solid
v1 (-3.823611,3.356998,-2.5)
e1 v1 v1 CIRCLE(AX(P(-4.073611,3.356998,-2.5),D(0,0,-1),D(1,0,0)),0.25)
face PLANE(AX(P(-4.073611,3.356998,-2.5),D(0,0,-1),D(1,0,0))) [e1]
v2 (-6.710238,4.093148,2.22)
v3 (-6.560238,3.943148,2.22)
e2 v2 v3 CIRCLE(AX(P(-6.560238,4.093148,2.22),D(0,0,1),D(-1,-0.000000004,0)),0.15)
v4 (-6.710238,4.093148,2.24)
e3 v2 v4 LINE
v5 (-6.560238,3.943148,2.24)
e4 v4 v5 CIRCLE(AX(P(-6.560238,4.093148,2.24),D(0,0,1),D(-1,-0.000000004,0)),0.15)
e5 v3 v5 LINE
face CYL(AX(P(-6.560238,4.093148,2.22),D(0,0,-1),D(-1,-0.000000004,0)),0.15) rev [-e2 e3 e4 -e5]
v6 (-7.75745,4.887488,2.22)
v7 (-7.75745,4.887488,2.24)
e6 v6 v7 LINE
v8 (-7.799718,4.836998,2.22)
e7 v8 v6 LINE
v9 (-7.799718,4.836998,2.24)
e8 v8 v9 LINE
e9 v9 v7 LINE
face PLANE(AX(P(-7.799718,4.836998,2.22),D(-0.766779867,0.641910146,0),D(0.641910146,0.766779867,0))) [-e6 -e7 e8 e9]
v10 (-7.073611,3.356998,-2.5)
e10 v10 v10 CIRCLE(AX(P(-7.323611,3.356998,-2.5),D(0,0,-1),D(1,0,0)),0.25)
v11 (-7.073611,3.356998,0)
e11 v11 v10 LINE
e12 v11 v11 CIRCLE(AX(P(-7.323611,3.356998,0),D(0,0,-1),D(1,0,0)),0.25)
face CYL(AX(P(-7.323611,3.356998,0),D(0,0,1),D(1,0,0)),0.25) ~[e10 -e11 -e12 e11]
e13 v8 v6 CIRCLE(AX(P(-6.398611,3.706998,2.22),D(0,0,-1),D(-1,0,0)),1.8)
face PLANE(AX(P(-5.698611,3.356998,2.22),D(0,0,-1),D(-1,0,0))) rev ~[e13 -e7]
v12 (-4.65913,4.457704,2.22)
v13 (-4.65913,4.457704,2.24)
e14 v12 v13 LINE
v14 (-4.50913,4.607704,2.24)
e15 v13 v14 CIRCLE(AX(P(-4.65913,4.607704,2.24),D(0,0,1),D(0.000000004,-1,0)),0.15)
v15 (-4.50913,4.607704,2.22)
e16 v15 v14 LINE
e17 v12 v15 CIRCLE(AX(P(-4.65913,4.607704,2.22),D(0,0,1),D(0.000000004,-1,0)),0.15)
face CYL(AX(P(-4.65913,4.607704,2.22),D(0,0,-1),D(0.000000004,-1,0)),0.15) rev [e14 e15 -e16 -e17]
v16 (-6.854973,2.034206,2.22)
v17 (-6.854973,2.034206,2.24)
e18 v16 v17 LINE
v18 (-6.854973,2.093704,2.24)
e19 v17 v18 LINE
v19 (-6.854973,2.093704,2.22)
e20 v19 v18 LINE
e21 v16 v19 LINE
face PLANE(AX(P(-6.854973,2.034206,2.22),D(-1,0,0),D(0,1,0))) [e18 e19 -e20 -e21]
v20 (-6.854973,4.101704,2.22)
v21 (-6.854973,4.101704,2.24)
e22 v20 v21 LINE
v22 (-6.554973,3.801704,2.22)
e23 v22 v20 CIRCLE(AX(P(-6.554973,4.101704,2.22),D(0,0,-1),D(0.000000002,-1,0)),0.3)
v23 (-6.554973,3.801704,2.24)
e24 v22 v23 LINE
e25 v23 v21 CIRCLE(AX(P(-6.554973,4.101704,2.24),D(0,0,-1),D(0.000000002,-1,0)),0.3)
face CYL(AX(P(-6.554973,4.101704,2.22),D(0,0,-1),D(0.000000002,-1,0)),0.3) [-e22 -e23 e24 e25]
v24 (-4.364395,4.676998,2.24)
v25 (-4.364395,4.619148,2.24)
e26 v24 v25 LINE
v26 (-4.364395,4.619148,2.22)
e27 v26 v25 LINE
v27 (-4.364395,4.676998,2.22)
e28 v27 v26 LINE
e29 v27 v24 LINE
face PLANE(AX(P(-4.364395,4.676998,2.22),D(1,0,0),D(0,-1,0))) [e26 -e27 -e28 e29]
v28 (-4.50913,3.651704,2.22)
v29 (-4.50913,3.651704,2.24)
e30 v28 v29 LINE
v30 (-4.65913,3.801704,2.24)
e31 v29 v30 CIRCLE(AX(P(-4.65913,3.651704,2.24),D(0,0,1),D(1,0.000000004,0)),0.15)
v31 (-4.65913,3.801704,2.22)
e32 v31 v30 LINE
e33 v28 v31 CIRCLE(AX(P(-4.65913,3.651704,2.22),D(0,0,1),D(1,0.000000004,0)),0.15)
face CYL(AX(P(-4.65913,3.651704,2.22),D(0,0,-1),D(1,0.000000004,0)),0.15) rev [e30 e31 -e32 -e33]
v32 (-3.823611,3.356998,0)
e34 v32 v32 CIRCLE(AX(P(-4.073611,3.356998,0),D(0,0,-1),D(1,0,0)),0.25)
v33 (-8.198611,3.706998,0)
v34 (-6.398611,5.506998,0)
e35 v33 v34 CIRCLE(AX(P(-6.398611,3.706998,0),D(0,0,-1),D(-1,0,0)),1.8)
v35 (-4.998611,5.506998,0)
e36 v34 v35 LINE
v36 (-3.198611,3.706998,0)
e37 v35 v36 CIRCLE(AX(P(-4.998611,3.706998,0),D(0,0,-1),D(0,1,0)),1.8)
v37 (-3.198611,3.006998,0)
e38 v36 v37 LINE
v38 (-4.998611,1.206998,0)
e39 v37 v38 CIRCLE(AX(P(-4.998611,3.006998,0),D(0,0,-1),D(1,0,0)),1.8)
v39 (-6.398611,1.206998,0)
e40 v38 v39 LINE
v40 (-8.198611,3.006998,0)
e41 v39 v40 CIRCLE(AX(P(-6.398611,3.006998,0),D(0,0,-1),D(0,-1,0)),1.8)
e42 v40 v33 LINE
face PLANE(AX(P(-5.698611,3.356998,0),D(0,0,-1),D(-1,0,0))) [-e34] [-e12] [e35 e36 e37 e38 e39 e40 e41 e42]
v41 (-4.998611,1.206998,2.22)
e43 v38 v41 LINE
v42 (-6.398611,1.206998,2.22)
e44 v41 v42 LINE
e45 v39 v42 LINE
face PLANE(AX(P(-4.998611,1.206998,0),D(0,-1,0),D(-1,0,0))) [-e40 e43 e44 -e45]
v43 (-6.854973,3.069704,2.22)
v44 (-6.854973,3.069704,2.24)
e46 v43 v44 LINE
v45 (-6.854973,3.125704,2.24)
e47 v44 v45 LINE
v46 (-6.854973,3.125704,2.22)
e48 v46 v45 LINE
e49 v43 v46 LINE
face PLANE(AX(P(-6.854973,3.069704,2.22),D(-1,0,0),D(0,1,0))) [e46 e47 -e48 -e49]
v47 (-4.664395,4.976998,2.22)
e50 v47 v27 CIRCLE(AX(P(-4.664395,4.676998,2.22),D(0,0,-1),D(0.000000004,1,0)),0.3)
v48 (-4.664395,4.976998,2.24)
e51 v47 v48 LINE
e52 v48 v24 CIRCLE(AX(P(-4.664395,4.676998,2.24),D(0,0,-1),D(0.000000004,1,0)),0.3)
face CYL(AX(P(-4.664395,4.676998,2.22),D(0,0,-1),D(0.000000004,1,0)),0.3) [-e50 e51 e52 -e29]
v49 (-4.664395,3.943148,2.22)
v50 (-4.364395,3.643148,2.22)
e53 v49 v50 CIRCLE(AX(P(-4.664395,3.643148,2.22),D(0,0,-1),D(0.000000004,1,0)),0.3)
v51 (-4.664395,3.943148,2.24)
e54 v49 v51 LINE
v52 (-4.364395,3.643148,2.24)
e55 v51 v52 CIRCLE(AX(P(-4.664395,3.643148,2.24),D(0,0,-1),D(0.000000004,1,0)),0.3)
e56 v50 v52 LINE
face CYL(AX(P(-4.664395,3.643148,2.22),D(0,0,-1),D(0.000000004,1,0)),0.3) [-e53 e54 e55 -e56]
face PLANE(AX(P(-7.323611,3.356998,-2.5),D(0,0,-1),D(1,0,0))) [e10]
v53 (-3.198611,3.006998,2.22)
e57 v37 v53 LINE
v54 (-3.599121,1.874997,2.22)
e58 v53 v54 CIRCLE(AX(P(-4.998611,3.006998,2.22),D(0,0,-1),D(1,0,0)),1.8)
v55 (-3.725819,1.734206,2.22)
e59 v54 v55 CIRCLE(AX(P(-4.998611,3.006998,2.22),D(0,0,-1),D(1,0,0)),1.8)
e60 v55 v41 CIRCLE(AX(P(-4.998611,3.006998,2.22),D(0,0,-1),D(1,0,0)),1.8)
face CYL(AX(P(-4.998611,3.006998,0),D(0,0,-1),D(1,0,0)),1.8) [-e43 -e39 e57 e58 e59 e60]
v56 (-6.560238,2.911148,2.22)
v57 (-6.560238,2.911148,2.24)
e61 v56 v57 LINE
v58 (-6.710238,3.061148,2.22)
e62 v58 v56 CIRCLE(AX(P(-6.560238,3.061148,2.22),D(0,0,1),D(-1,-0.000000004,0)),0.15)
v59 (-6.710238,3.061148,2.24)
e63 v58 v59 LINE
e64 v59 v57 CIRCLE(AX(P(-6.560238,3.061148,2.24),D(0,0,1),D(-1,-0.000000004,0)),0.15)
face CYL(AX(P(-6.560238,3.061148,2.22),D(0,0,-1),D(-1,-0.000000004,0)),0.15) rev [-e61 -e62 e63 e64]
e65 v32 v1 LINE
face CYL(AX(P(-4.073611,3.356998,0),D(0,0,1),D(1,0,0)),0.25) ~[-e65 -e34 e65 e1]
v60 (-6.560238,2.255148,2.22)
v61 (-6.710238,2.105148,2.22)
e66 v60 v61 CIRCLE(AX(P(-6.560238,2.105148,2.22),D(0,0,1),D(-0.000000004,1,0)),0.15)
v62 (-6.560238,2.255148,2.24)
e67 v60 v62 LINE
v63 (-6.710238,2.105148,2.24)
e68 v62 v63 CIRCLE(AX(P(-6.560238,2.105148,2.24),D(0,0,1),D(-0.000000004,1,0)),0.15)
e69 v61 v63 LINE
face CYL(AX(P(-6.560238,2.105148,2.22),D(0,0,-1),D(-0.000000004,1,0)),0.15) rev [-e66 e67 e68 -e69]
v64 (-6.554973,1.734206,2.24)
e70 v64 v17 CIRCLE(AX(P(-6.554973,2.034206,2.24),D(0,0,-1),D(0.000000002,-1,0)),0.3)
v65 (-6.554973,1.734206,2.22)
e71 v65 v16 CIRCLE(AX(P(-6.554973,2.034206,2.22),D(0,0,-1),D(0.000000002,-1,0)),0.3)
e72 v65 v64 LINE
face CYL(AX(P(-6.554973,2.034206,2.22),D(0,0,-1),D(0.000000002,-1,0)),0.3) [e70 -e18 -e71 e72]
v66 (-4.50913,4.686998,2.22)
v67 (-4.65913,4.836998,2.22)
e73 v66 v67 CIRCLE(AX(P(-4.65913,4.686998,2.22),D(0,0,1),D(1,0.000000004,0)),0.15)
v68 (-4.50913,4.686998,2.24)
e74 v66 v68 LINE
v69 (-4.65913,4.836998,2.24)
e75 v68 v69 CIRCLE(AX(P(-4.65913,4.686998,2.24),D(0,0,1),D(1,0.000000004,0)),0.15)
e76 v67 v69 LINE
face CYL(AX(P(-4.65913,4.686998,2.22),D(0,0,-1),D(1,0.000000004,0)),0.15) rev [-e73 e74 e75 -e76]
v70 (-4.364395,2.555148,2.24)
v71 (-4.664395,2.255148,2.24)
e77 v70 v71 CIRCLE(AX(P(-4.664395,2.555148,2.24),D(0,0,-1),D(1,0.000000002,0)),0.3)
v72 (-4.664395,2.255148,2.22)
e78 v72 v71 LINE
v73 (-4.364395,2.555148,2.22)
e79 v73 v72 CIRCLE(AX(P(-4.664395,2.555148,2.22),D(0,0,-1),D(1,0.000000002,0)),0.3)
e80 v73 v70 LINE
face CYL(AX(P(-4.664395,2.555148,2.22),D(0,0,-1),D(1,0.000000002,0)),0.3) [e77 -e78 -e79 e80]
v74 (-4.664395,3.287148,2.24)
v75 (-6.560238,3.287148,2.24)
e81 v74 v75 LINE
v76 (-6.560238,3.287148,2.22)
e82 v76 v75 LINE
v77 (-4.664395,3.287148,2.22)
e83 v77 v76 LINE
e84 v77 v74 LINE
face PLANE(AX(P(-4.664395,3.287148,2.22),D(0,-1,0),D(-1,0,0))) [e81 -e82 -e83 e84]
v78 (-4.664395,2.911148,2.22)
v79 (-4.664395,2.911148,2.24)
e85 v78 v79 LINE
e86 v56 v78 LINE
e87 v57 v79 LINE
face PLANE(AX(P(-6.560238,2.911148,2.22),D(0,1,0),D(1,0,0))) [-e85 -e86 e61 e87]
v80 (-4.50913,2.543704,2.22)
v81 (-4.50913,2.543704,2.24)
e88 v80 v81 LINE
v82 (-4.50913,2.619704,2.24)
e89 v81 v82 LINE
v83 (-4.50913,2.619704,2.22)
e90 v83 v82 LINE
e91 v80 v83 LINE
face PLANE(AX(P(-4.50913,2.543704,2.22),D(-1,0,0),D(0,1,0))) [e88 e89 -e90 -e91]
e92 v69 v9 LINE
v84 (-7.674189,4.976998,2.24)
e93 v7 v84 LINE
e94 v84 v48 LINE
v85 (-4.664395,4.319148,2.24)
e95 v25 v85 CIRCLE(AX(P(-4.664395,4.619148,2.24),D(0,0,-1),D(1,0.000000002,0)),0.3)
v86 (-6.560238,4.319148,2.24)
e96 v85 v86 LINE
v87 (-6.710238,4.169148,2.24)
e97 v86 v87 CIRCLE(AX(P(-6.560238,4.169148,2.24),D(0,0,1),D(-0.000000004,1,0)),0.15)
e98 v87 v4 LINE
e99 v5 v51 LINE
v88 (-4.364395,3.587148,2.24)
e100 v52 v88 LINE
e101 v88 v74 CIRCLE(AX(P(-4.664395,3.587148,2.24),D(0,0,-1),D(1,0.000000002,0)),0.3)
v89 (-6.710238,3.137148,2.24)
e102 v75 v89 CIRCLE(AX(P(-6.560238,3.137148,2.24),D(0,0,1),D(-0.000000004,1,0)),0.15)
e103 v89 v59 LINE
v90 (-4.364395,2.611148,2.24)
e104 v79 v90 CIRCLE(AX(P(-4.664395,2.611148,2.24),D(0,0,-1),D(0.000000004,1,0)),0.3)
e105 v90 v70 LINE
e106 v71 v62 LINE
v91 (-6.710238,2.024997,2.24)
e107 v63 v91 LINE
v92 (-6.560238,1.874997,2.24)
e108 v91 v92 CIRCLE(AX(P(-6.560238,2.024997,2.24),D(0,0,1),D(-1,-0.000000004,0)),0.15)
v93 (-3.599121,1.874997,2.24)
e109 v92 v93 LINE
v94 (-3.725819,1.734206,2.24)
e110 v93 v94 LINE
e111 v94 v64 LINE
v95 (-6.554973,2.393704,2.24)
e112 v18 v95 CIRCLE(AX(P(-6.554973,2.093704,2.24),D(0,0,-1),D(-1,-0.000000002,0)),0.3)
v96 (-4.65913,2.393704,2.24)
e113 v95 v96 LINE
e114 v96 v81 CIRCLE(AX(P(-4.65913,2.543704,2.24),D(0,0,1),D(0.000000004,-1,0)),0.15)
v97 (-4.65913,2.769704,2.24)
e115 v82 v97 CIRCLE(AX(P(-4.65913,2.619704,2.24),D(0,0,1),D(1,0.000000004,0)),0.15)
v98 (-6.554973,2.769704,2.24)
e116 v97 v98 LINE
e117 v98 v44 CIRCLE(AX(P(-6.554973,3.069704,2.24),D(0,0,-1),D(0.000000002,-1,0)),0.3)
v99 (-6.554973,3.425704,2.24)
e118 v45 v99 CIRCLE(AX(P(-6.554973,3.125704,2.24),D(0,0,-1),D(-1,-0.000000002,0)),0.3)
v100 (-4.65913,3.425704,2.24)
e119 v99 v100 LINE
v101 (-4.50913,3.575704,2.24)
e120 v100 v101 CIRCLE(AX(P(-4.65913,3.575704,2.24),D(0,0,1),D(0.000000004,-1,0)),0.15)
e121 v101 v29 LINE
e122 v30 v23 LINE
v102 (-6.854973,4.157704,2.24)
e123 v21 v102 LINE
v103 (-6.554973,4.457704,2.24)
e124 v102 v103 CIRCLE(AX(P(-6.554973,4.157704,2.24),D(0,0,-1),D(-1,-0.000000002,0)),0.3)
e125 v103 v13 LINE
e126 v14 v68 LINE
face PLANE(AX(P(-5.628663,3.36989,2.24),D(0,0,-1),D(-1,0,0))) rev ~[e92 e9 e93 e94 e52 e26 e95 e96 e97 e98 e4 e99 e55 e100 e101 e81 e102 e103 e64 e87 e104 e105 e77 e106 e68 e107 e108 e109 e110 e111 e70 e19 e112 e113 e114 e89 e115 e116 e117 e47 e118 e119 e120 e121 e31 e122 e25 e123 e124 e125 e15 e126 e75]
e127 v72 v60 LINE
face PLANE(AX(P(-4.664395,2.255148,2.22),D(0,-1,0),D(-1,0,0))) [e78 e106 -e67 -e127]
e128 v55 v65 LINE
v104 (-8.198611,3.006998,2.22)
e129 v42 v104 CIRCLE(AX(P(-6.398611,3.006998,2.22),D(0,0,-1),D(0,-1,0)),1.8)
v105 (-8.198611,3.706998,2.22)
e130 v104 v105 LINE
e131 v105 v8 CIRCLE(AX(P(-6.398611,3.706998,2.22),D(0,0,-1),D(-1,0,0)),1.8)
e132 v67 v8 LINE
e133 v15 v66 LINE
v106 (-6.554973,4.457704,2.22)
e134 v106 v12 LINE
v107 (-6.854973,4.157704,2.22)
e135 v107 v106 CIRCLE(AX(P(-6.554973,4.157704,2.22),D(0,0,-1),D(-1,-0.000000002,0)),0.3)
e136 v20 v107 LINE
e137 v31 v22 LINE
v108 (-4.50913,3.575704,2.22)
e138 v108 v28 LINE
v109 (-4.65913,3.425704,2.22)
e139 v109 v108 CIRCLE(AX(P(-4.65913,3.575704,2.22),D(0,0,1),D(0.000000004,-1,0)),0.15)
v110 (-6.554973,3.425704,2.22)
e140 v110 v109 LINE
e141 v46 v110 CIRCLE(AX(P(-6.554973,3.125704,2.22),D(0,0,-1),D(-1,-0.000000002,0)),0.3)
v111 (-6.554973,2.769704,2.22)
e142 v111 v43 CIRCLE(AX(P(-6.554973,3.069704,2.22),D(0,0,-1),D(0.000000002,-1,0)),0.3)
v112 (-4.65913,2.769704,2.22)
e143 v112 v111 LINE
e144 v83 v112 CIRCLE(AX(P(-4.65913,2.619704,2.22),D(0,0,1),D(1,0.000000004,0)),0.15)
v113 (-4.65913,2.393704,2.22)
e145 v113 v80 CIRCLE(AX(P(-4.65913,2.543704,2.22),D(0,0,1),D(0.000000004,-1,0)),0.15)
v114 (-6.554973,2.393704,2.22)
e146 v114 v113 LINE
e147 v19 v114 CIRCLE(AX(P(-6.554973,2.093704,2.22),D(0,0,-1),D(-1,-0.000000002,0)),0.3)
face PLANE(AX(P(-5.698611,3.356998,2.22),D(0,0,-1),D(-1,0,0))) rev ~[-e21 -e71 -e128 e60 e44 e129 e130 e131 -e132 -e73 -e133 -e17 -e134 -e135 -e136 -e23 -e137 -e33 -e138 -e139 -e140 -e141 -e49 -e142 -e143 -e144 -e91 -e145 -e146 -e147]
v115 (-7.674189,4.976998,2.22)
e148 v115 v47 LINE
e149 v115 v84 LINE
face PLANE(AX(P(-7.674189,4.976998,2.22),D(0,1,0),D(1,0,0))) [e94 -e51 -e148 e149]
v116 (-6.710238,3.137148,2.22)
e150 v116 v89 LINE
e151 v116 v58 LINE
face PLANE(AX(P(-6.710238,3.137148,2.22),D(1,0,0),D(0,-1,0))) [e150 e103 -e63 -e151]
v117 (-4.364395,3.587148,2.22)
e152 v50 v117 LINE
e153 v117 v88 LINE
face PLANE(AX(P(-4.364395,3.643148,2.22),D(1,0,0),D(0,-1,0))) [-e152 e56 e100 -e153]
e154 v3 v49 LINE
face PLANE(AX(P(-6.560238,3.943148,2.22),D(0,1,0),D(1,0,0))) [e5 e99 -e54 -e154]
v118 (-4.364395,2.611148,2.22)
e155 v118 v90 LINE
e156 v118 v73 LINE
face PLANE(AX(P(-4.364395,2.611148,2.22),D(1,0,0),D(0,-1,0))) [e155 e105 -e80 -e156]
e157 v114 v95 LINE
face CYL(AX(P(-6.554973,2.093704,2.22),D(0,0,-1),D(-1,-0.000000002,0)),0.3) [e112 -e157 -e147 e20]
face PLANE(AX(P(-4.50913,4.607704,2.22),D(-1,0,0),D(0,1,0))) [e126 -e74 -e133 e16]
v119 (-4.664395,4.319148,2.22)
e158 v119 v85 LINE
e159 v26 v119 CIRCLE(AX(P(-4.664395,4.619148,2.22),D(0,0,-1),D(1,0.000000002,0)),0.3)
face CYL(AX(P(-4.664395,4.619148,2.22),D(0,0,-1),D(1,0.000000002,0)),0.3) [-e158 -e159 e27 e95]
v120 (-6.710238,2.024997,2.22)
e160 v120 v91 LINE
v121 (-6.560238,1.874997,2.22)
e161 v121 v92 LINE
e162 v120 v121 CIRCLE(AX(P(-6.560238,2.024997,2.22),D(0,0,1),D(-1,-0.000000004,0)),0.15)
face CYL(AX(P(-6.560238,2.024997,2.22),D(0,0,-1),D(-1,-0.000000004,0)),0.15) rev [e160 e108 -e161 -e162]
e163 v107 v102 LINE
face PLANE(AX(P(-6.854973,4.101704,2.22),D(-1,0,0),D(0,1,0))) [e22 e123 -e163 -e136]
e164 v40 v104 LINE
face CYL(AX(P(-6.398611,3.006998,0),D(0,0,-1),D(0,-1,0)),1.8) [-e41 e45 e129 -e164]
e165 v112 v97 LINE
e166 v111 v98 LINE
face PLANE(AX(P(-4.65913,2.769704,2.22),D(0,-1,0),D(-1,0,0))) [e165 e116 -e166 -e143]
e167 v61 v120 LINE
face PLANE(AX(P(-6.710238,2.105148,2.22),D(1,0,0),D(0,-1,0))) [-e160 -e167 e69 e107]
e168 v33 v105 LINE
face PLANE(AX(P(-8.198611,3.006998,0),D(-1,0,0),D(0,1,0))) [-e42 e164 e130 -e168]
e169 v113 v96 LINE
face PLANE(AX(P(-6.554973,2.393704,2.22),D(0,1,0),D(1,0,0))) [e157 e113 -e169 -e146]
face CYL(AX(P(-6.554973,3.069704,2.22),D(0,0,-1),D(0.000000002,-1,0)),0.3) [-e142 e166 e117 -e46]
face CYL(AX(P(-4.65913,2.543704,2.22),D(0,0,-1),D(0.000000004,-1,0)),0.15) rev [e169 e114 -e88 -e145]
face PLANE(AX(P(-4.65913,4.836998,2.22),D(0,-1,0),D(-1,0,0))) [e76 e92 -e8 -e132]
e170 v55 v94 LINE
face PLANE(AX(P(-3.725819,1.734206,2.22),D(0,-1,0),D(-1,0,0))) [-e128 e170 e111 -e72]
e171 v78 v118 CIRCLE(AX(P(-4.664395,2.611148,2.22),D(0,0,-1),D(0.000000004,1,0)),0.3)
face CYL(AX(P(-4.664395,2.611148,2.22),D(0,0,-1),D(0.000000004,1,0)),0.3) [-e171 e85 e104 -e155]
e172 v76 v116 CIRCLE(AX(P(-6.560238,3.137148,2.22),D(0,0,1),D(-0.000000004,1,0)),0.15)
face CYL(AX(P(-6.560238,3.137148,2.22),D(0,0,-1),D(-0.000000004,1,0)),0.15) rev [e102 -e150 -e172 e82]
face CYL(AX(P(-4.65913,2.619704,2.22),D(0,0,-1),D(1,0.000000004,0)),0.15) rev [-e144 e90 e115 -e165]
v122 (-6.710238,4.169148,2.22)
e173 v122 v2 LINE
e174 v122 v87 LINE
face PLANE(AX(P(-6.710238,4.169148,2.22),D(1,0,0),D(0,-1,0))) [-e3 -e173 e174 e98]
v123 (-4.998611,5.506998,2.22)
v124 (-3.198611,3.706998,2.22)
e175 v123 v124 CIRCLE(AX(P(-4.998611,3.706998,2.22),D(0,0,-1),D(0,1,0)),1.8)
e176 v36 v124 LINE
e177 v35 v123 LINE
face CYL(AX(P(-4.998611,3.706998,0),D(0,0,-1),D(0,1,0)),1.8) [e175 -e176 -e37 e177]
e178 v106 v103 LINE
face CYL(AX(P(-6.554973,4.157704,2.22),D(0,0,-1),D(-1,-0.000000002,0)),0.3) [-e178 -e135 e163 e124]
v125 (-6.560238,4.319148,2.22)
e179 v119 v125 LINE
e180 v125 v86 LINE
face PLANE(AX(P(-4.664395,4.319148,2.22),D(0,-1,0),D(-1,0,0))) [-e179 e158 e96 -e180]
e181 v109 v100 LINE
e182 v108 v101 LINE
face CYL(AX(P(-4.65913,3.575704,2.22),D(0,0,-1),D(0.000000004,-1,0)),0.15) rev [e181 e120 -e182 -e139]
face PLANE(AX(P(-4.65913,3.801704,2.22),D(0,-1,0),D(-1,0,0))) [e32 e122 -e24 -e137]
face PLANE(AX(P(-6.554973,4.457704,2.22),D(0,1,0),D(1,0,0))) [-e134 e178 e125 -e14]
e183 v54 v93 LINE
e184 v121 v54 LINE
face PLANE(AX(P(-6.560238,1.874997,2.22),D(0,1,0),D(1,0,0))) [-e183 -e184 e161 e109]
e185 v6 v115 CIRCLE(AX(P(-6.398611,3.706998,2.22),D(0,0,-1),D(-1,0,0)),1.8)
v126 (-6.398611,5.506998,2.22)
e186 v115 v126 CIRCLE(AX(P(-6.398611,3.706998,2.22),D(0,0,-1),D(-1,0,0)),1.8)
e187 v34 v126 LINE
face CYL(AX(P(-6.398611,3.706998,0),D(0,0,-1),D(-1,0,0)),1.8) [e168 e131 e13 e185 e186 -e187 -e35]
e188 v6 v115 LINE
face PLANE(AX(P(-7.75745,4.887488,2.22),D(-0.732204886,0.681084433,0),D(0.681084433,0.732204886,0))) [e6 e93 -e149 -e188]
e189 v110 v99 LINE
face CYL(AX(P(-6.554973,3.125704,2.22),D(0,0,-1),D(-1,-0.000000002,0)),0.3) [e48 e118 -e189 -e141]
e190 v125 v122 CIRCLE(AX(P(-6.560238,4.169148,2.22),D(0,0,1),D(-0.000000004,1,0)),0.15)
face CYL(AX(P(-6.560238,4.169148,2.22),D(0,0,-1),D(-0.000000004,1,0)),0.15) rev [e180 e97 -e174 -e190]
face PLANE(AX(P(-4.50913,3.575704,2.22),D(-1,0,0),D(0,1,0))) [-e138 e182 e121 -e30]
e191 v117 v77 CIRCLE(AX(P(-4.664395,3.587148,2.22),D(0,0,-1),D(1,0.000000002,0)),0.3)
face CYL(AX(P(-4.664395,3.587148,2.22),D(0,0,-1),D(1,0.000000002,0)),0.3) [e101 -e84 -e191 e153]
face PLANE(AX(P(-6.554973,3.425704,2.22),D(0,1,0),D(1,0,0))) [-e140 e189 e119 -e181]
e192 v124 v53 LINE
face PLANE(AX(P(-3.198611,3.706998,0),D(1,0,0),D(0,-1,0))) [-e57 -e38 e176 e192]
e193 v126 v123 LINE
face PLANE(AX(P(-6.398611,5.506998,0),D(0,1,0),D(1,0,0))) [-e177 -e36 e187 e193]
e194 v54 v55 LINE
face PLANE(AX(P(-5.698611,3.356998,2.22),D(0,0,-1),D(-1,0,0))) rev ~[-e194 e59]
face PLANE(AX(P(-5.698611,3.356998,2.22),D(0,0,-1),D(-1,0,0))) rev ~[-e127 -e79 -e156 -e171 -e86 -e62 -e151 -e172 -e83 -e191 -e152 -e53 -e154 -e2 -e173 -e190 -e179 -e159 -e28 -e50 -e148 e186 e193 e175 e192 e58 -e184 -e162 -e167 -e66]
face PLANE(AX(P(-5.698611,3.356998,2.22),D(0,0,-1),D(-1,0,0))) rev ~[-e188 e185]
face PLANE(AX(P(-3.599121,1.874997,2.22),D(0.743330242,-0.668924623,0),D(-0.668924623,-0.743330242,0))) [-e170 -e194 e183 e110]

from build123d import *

# Parameters (mm, degrees)
EXTRUDE1_DEPTH = 2.22
EXTRUDE6_DEPTH = 0.02
SKETCH2_R      = 0.25
EXTRUDE7_DEPTH = 2.5


with BuildPart() as part:
    # Sketch1 → Extrude1 (new body)
    with BuildSketch(Plane.XY):
        with BuildLine():
            Line((-6.39861095, 5.506998303), (-4.99861095, 5.506998303))
            ThreePointArc((-4.99861095, 5.506998303), (-3.725818744, 4.979790509), (-3.19861095, 3.706998303))
            Line((-3.19861095, 3.706998303), (-3.19861095, 3.006998303))
            ThreePointArc((-3.19861095, 3.006998303), (-3.725818744, 1.734206097), (-4.99861095, 1.206998303))
            Line((-4.99861095, 1.206998303), (-6.39861095, 1.206998303))
            ThreePointArc((-6.39861095, 1.206998303), (-7.671403156, 1.734206097), (-8.19861095, 3.006998303))
            Line((-8.19861095, 3.006998303), (-8.19861095, 3.706998303))
            ThreePointArc((-8.19861095, 3.706998303), (-7.671403156, 4.979790509), (-6.39861095, 5.506998303))
        make_face()
    extrude(amount=EXTRUDE1_DEPTH)

    # Sketch3 → Extrude6 (add)
    with BuildSketch(Plane.XY.offset(2.22)):
        with BuildLine():
            Line((-4.659129836, 4.836998303), (-7.799717656, 4.836998303))
            Line((-7.799717656, 4.836998303), (-7.757450007, 4.887488208))
            Line((-7.757450007, 4.887488208), (-7.674189251, 4.976998303))
            Line((-7.674189251, 4.976998303), (-4.664395148, 4.976998303))
            ThreePointArc((-4.664395148, 4.976998303), (-4.452263114, 4.889130337), (-4.364395148, 4.676998303))
            Line((-4.364395148, 4.676998303), (-4.364395148, 4.619148396))
            ThreePointArc((-4.364395148, 4.619148396), (-4.452263114, 4.407016361), (-4.664395148, 4.319148396))
            Line((-4.664395148, 4.319148396), (-6.560237828, 4.319148396))
            ThreePointArc((-6.560237828, 4.319148396), (-6.666303845, 4.275214413), (-6.710237828, 4.169148396))
            Line((-6.710237828, 4.169148396), (-6.710237828, 4.093148396))
            ThreePointArc((-6.710237828, 4.093148396), (-6.666303845, 3.987082379), (-6.560237828, 3.943148396))
            Line((-6.560237828, 3.943148396), (-4.664395148, 3.943148396))
            ThreePointArc((-4.664395148, 3.943148396), (-4.452263114, 3.85528043), (-4.364395148, 3.643148396))
            Line((-4.364395148, 3.643148396), (-4.364395148, 3.587148396))
            ThreePointArc((-4.364395148, 3.587148396), (-4.452263114, 3.375016361), (-4.664395148, 3.287148396))
            Line((-4.664395148, 3.287148396), (-6.560237828, 3.287148396))
            ThreePointArc((-6.560237828, 3.287148396), (-6.666303845, 3.243214413), (-6.710237828, 3.137148396))
            Line((-6.710237828, 3.137148396), (-6.710237828, 3.061148396))
            ThreePointArc((-6.710237828, 3.061148396), (-6.666303845, 2.955082379), (-6.560237828, 2.911148396))
            Line((-6.560237828, 2.911148396), (-4.664395148, 2.911148396))
            ThreePointArc((-4.664395148, 2.911148396), (-4.452263114, 2.82328043), (-4.364395148, 2.611148396))
            Line((-4.364395148, 2.611148396), (-4.364395148, 2.555148396))
            ThreePointArc((-4.364395148, 2.555148396), (-4.452263114, 2.343016361), (-4.664395148, 2.255148396))
            Line((-4.664395148, 2.255148396), (-6.560237828, 2.255148396))
            ThreePointArc((-6.560237828, 2.255148396), (-6.666303845, 2.211214413), (-6.710237828, 2.105148396))
            Line((-6.710237828, 2.105148396), (-6.710237828, 2.024997149))
            ThreePointArc((-6.710237828, 2.024997149), (-6.666303845, 1.918931132), (-6.560237828, 1.874997149))
            Line((-6.560237828, 1.874997149), (-3.599120547, 1.874997149))
            Line((-3.599120547, 1.874997149), (-3.725818744, 1.734206097))
            Line((-3.725818744, 1.734206097), (-6.554972516, 1.734206097))
            ThreePointArc((-6.554972516, 1.734206097), (-6.767104551, 1.822074063), (-6.854972516, 2.034206097))
            Line((-6.854972516, 2.034206097), (-6.854972516, 2.093703593))
            ThreePointArc((-6.854972516, 2.093703593), (-6.767104551, 2.305835627), (-6.554972516, 2.393703593))
            Line((-6.554972516, 2.393703593), (-4.659129836, 2.393703593))
            ThreePointArc((-4.659129836, 2.393703593), (-4.553063819, 2.437637576), (-4.509129836, 2.543703593))
            Line((-4.509129836, 2.543703593), (-4.509129836, 2.619703593))
            ThreePointArc((-4.509129836, 2.619703593), (-4.553063819, 2.72576961), (-4.659129836, 2.769703593))
            Line((-4.659129836, 2.769703593), (-6.554972516, 2.769703593))
            ThreePointArc((-6.554972516, 2.769703593), (-6.767104551, 2.857571559), (-6.854972516, 3.069703593))
            Line((-6.854972516, 3.069703593), (-6.854972516, 3.125703593))
            ThreePointArc((-6.854972516, 3.125703593), (-6.767104551, 3.337835627), (-6.554972516, 3.425703593))
            Line((-6.554972516, 3.425703593), (-4.659129836, 3.425703593))
            ThreePointArc((-4.659129836, 3.425703593), (-4.553063819, 3.469637576), (-4.509129836, 3.575703593))
            Line((-4.509129836, 3.575703593), (-4.509129836, 3.651703593))
            ThreePointArc((-4.509129836, 3.651703593), (-4.553063819, 3.75776961), (-4.659129836, 3.801703593))
            Line((-4.659129836, 3.801703593), (-6.554972516, 3.801703593))
            ThreePointArc((-6.554972516, 3.801703593), (-6.767104551, 3.889571559), (-6.854972516, 4.101703593))
            Line((-6.854972516, 4.101703593), (-6.854972516, 4.157703593))
            ThreePointArc((-6.854972516, 4.157703593), (-6.767104551, 4.369835627), (-6.554972516, 4.457703593))
            Line((-6.554972516, 4.457703593), (-4.659129836, 4.457703593))
            ThreePointArc((-4.659129836, 4.457703593), (-4.553063819, 4.501637576), (-4.509129836, 4.607703593))
            Line((-4.509129836, 4.607703593), (-4.509129836, 4.686998303))
            ThreePointArc((-4.509129836, 4.686998303), (-4.553063819, 4.79306432), (-4.659129836, 4.836998303))
        make_face()
    extrude(amount=EXTRUDE6_DEPTH)

    # Sketch2 → Extrude7 (add)
    with BuildSketch(Plane(origin=(0, 0, 0), x_dir=(-1, 0, 0), z_dir=(0, 0, -1))):
        with Locations(Location((4.07361095, 3.356998303, 0), (0, 0, 180))):
            Circle(SKETCH2_R)
        with Locations(Location((7.32361095, 3.356998303, 0), (0, 0, 180))):
            Circle(SKETCH2_R)
    extrude(amount=EXTRUDE7_DEPTH)


solid = part.part
